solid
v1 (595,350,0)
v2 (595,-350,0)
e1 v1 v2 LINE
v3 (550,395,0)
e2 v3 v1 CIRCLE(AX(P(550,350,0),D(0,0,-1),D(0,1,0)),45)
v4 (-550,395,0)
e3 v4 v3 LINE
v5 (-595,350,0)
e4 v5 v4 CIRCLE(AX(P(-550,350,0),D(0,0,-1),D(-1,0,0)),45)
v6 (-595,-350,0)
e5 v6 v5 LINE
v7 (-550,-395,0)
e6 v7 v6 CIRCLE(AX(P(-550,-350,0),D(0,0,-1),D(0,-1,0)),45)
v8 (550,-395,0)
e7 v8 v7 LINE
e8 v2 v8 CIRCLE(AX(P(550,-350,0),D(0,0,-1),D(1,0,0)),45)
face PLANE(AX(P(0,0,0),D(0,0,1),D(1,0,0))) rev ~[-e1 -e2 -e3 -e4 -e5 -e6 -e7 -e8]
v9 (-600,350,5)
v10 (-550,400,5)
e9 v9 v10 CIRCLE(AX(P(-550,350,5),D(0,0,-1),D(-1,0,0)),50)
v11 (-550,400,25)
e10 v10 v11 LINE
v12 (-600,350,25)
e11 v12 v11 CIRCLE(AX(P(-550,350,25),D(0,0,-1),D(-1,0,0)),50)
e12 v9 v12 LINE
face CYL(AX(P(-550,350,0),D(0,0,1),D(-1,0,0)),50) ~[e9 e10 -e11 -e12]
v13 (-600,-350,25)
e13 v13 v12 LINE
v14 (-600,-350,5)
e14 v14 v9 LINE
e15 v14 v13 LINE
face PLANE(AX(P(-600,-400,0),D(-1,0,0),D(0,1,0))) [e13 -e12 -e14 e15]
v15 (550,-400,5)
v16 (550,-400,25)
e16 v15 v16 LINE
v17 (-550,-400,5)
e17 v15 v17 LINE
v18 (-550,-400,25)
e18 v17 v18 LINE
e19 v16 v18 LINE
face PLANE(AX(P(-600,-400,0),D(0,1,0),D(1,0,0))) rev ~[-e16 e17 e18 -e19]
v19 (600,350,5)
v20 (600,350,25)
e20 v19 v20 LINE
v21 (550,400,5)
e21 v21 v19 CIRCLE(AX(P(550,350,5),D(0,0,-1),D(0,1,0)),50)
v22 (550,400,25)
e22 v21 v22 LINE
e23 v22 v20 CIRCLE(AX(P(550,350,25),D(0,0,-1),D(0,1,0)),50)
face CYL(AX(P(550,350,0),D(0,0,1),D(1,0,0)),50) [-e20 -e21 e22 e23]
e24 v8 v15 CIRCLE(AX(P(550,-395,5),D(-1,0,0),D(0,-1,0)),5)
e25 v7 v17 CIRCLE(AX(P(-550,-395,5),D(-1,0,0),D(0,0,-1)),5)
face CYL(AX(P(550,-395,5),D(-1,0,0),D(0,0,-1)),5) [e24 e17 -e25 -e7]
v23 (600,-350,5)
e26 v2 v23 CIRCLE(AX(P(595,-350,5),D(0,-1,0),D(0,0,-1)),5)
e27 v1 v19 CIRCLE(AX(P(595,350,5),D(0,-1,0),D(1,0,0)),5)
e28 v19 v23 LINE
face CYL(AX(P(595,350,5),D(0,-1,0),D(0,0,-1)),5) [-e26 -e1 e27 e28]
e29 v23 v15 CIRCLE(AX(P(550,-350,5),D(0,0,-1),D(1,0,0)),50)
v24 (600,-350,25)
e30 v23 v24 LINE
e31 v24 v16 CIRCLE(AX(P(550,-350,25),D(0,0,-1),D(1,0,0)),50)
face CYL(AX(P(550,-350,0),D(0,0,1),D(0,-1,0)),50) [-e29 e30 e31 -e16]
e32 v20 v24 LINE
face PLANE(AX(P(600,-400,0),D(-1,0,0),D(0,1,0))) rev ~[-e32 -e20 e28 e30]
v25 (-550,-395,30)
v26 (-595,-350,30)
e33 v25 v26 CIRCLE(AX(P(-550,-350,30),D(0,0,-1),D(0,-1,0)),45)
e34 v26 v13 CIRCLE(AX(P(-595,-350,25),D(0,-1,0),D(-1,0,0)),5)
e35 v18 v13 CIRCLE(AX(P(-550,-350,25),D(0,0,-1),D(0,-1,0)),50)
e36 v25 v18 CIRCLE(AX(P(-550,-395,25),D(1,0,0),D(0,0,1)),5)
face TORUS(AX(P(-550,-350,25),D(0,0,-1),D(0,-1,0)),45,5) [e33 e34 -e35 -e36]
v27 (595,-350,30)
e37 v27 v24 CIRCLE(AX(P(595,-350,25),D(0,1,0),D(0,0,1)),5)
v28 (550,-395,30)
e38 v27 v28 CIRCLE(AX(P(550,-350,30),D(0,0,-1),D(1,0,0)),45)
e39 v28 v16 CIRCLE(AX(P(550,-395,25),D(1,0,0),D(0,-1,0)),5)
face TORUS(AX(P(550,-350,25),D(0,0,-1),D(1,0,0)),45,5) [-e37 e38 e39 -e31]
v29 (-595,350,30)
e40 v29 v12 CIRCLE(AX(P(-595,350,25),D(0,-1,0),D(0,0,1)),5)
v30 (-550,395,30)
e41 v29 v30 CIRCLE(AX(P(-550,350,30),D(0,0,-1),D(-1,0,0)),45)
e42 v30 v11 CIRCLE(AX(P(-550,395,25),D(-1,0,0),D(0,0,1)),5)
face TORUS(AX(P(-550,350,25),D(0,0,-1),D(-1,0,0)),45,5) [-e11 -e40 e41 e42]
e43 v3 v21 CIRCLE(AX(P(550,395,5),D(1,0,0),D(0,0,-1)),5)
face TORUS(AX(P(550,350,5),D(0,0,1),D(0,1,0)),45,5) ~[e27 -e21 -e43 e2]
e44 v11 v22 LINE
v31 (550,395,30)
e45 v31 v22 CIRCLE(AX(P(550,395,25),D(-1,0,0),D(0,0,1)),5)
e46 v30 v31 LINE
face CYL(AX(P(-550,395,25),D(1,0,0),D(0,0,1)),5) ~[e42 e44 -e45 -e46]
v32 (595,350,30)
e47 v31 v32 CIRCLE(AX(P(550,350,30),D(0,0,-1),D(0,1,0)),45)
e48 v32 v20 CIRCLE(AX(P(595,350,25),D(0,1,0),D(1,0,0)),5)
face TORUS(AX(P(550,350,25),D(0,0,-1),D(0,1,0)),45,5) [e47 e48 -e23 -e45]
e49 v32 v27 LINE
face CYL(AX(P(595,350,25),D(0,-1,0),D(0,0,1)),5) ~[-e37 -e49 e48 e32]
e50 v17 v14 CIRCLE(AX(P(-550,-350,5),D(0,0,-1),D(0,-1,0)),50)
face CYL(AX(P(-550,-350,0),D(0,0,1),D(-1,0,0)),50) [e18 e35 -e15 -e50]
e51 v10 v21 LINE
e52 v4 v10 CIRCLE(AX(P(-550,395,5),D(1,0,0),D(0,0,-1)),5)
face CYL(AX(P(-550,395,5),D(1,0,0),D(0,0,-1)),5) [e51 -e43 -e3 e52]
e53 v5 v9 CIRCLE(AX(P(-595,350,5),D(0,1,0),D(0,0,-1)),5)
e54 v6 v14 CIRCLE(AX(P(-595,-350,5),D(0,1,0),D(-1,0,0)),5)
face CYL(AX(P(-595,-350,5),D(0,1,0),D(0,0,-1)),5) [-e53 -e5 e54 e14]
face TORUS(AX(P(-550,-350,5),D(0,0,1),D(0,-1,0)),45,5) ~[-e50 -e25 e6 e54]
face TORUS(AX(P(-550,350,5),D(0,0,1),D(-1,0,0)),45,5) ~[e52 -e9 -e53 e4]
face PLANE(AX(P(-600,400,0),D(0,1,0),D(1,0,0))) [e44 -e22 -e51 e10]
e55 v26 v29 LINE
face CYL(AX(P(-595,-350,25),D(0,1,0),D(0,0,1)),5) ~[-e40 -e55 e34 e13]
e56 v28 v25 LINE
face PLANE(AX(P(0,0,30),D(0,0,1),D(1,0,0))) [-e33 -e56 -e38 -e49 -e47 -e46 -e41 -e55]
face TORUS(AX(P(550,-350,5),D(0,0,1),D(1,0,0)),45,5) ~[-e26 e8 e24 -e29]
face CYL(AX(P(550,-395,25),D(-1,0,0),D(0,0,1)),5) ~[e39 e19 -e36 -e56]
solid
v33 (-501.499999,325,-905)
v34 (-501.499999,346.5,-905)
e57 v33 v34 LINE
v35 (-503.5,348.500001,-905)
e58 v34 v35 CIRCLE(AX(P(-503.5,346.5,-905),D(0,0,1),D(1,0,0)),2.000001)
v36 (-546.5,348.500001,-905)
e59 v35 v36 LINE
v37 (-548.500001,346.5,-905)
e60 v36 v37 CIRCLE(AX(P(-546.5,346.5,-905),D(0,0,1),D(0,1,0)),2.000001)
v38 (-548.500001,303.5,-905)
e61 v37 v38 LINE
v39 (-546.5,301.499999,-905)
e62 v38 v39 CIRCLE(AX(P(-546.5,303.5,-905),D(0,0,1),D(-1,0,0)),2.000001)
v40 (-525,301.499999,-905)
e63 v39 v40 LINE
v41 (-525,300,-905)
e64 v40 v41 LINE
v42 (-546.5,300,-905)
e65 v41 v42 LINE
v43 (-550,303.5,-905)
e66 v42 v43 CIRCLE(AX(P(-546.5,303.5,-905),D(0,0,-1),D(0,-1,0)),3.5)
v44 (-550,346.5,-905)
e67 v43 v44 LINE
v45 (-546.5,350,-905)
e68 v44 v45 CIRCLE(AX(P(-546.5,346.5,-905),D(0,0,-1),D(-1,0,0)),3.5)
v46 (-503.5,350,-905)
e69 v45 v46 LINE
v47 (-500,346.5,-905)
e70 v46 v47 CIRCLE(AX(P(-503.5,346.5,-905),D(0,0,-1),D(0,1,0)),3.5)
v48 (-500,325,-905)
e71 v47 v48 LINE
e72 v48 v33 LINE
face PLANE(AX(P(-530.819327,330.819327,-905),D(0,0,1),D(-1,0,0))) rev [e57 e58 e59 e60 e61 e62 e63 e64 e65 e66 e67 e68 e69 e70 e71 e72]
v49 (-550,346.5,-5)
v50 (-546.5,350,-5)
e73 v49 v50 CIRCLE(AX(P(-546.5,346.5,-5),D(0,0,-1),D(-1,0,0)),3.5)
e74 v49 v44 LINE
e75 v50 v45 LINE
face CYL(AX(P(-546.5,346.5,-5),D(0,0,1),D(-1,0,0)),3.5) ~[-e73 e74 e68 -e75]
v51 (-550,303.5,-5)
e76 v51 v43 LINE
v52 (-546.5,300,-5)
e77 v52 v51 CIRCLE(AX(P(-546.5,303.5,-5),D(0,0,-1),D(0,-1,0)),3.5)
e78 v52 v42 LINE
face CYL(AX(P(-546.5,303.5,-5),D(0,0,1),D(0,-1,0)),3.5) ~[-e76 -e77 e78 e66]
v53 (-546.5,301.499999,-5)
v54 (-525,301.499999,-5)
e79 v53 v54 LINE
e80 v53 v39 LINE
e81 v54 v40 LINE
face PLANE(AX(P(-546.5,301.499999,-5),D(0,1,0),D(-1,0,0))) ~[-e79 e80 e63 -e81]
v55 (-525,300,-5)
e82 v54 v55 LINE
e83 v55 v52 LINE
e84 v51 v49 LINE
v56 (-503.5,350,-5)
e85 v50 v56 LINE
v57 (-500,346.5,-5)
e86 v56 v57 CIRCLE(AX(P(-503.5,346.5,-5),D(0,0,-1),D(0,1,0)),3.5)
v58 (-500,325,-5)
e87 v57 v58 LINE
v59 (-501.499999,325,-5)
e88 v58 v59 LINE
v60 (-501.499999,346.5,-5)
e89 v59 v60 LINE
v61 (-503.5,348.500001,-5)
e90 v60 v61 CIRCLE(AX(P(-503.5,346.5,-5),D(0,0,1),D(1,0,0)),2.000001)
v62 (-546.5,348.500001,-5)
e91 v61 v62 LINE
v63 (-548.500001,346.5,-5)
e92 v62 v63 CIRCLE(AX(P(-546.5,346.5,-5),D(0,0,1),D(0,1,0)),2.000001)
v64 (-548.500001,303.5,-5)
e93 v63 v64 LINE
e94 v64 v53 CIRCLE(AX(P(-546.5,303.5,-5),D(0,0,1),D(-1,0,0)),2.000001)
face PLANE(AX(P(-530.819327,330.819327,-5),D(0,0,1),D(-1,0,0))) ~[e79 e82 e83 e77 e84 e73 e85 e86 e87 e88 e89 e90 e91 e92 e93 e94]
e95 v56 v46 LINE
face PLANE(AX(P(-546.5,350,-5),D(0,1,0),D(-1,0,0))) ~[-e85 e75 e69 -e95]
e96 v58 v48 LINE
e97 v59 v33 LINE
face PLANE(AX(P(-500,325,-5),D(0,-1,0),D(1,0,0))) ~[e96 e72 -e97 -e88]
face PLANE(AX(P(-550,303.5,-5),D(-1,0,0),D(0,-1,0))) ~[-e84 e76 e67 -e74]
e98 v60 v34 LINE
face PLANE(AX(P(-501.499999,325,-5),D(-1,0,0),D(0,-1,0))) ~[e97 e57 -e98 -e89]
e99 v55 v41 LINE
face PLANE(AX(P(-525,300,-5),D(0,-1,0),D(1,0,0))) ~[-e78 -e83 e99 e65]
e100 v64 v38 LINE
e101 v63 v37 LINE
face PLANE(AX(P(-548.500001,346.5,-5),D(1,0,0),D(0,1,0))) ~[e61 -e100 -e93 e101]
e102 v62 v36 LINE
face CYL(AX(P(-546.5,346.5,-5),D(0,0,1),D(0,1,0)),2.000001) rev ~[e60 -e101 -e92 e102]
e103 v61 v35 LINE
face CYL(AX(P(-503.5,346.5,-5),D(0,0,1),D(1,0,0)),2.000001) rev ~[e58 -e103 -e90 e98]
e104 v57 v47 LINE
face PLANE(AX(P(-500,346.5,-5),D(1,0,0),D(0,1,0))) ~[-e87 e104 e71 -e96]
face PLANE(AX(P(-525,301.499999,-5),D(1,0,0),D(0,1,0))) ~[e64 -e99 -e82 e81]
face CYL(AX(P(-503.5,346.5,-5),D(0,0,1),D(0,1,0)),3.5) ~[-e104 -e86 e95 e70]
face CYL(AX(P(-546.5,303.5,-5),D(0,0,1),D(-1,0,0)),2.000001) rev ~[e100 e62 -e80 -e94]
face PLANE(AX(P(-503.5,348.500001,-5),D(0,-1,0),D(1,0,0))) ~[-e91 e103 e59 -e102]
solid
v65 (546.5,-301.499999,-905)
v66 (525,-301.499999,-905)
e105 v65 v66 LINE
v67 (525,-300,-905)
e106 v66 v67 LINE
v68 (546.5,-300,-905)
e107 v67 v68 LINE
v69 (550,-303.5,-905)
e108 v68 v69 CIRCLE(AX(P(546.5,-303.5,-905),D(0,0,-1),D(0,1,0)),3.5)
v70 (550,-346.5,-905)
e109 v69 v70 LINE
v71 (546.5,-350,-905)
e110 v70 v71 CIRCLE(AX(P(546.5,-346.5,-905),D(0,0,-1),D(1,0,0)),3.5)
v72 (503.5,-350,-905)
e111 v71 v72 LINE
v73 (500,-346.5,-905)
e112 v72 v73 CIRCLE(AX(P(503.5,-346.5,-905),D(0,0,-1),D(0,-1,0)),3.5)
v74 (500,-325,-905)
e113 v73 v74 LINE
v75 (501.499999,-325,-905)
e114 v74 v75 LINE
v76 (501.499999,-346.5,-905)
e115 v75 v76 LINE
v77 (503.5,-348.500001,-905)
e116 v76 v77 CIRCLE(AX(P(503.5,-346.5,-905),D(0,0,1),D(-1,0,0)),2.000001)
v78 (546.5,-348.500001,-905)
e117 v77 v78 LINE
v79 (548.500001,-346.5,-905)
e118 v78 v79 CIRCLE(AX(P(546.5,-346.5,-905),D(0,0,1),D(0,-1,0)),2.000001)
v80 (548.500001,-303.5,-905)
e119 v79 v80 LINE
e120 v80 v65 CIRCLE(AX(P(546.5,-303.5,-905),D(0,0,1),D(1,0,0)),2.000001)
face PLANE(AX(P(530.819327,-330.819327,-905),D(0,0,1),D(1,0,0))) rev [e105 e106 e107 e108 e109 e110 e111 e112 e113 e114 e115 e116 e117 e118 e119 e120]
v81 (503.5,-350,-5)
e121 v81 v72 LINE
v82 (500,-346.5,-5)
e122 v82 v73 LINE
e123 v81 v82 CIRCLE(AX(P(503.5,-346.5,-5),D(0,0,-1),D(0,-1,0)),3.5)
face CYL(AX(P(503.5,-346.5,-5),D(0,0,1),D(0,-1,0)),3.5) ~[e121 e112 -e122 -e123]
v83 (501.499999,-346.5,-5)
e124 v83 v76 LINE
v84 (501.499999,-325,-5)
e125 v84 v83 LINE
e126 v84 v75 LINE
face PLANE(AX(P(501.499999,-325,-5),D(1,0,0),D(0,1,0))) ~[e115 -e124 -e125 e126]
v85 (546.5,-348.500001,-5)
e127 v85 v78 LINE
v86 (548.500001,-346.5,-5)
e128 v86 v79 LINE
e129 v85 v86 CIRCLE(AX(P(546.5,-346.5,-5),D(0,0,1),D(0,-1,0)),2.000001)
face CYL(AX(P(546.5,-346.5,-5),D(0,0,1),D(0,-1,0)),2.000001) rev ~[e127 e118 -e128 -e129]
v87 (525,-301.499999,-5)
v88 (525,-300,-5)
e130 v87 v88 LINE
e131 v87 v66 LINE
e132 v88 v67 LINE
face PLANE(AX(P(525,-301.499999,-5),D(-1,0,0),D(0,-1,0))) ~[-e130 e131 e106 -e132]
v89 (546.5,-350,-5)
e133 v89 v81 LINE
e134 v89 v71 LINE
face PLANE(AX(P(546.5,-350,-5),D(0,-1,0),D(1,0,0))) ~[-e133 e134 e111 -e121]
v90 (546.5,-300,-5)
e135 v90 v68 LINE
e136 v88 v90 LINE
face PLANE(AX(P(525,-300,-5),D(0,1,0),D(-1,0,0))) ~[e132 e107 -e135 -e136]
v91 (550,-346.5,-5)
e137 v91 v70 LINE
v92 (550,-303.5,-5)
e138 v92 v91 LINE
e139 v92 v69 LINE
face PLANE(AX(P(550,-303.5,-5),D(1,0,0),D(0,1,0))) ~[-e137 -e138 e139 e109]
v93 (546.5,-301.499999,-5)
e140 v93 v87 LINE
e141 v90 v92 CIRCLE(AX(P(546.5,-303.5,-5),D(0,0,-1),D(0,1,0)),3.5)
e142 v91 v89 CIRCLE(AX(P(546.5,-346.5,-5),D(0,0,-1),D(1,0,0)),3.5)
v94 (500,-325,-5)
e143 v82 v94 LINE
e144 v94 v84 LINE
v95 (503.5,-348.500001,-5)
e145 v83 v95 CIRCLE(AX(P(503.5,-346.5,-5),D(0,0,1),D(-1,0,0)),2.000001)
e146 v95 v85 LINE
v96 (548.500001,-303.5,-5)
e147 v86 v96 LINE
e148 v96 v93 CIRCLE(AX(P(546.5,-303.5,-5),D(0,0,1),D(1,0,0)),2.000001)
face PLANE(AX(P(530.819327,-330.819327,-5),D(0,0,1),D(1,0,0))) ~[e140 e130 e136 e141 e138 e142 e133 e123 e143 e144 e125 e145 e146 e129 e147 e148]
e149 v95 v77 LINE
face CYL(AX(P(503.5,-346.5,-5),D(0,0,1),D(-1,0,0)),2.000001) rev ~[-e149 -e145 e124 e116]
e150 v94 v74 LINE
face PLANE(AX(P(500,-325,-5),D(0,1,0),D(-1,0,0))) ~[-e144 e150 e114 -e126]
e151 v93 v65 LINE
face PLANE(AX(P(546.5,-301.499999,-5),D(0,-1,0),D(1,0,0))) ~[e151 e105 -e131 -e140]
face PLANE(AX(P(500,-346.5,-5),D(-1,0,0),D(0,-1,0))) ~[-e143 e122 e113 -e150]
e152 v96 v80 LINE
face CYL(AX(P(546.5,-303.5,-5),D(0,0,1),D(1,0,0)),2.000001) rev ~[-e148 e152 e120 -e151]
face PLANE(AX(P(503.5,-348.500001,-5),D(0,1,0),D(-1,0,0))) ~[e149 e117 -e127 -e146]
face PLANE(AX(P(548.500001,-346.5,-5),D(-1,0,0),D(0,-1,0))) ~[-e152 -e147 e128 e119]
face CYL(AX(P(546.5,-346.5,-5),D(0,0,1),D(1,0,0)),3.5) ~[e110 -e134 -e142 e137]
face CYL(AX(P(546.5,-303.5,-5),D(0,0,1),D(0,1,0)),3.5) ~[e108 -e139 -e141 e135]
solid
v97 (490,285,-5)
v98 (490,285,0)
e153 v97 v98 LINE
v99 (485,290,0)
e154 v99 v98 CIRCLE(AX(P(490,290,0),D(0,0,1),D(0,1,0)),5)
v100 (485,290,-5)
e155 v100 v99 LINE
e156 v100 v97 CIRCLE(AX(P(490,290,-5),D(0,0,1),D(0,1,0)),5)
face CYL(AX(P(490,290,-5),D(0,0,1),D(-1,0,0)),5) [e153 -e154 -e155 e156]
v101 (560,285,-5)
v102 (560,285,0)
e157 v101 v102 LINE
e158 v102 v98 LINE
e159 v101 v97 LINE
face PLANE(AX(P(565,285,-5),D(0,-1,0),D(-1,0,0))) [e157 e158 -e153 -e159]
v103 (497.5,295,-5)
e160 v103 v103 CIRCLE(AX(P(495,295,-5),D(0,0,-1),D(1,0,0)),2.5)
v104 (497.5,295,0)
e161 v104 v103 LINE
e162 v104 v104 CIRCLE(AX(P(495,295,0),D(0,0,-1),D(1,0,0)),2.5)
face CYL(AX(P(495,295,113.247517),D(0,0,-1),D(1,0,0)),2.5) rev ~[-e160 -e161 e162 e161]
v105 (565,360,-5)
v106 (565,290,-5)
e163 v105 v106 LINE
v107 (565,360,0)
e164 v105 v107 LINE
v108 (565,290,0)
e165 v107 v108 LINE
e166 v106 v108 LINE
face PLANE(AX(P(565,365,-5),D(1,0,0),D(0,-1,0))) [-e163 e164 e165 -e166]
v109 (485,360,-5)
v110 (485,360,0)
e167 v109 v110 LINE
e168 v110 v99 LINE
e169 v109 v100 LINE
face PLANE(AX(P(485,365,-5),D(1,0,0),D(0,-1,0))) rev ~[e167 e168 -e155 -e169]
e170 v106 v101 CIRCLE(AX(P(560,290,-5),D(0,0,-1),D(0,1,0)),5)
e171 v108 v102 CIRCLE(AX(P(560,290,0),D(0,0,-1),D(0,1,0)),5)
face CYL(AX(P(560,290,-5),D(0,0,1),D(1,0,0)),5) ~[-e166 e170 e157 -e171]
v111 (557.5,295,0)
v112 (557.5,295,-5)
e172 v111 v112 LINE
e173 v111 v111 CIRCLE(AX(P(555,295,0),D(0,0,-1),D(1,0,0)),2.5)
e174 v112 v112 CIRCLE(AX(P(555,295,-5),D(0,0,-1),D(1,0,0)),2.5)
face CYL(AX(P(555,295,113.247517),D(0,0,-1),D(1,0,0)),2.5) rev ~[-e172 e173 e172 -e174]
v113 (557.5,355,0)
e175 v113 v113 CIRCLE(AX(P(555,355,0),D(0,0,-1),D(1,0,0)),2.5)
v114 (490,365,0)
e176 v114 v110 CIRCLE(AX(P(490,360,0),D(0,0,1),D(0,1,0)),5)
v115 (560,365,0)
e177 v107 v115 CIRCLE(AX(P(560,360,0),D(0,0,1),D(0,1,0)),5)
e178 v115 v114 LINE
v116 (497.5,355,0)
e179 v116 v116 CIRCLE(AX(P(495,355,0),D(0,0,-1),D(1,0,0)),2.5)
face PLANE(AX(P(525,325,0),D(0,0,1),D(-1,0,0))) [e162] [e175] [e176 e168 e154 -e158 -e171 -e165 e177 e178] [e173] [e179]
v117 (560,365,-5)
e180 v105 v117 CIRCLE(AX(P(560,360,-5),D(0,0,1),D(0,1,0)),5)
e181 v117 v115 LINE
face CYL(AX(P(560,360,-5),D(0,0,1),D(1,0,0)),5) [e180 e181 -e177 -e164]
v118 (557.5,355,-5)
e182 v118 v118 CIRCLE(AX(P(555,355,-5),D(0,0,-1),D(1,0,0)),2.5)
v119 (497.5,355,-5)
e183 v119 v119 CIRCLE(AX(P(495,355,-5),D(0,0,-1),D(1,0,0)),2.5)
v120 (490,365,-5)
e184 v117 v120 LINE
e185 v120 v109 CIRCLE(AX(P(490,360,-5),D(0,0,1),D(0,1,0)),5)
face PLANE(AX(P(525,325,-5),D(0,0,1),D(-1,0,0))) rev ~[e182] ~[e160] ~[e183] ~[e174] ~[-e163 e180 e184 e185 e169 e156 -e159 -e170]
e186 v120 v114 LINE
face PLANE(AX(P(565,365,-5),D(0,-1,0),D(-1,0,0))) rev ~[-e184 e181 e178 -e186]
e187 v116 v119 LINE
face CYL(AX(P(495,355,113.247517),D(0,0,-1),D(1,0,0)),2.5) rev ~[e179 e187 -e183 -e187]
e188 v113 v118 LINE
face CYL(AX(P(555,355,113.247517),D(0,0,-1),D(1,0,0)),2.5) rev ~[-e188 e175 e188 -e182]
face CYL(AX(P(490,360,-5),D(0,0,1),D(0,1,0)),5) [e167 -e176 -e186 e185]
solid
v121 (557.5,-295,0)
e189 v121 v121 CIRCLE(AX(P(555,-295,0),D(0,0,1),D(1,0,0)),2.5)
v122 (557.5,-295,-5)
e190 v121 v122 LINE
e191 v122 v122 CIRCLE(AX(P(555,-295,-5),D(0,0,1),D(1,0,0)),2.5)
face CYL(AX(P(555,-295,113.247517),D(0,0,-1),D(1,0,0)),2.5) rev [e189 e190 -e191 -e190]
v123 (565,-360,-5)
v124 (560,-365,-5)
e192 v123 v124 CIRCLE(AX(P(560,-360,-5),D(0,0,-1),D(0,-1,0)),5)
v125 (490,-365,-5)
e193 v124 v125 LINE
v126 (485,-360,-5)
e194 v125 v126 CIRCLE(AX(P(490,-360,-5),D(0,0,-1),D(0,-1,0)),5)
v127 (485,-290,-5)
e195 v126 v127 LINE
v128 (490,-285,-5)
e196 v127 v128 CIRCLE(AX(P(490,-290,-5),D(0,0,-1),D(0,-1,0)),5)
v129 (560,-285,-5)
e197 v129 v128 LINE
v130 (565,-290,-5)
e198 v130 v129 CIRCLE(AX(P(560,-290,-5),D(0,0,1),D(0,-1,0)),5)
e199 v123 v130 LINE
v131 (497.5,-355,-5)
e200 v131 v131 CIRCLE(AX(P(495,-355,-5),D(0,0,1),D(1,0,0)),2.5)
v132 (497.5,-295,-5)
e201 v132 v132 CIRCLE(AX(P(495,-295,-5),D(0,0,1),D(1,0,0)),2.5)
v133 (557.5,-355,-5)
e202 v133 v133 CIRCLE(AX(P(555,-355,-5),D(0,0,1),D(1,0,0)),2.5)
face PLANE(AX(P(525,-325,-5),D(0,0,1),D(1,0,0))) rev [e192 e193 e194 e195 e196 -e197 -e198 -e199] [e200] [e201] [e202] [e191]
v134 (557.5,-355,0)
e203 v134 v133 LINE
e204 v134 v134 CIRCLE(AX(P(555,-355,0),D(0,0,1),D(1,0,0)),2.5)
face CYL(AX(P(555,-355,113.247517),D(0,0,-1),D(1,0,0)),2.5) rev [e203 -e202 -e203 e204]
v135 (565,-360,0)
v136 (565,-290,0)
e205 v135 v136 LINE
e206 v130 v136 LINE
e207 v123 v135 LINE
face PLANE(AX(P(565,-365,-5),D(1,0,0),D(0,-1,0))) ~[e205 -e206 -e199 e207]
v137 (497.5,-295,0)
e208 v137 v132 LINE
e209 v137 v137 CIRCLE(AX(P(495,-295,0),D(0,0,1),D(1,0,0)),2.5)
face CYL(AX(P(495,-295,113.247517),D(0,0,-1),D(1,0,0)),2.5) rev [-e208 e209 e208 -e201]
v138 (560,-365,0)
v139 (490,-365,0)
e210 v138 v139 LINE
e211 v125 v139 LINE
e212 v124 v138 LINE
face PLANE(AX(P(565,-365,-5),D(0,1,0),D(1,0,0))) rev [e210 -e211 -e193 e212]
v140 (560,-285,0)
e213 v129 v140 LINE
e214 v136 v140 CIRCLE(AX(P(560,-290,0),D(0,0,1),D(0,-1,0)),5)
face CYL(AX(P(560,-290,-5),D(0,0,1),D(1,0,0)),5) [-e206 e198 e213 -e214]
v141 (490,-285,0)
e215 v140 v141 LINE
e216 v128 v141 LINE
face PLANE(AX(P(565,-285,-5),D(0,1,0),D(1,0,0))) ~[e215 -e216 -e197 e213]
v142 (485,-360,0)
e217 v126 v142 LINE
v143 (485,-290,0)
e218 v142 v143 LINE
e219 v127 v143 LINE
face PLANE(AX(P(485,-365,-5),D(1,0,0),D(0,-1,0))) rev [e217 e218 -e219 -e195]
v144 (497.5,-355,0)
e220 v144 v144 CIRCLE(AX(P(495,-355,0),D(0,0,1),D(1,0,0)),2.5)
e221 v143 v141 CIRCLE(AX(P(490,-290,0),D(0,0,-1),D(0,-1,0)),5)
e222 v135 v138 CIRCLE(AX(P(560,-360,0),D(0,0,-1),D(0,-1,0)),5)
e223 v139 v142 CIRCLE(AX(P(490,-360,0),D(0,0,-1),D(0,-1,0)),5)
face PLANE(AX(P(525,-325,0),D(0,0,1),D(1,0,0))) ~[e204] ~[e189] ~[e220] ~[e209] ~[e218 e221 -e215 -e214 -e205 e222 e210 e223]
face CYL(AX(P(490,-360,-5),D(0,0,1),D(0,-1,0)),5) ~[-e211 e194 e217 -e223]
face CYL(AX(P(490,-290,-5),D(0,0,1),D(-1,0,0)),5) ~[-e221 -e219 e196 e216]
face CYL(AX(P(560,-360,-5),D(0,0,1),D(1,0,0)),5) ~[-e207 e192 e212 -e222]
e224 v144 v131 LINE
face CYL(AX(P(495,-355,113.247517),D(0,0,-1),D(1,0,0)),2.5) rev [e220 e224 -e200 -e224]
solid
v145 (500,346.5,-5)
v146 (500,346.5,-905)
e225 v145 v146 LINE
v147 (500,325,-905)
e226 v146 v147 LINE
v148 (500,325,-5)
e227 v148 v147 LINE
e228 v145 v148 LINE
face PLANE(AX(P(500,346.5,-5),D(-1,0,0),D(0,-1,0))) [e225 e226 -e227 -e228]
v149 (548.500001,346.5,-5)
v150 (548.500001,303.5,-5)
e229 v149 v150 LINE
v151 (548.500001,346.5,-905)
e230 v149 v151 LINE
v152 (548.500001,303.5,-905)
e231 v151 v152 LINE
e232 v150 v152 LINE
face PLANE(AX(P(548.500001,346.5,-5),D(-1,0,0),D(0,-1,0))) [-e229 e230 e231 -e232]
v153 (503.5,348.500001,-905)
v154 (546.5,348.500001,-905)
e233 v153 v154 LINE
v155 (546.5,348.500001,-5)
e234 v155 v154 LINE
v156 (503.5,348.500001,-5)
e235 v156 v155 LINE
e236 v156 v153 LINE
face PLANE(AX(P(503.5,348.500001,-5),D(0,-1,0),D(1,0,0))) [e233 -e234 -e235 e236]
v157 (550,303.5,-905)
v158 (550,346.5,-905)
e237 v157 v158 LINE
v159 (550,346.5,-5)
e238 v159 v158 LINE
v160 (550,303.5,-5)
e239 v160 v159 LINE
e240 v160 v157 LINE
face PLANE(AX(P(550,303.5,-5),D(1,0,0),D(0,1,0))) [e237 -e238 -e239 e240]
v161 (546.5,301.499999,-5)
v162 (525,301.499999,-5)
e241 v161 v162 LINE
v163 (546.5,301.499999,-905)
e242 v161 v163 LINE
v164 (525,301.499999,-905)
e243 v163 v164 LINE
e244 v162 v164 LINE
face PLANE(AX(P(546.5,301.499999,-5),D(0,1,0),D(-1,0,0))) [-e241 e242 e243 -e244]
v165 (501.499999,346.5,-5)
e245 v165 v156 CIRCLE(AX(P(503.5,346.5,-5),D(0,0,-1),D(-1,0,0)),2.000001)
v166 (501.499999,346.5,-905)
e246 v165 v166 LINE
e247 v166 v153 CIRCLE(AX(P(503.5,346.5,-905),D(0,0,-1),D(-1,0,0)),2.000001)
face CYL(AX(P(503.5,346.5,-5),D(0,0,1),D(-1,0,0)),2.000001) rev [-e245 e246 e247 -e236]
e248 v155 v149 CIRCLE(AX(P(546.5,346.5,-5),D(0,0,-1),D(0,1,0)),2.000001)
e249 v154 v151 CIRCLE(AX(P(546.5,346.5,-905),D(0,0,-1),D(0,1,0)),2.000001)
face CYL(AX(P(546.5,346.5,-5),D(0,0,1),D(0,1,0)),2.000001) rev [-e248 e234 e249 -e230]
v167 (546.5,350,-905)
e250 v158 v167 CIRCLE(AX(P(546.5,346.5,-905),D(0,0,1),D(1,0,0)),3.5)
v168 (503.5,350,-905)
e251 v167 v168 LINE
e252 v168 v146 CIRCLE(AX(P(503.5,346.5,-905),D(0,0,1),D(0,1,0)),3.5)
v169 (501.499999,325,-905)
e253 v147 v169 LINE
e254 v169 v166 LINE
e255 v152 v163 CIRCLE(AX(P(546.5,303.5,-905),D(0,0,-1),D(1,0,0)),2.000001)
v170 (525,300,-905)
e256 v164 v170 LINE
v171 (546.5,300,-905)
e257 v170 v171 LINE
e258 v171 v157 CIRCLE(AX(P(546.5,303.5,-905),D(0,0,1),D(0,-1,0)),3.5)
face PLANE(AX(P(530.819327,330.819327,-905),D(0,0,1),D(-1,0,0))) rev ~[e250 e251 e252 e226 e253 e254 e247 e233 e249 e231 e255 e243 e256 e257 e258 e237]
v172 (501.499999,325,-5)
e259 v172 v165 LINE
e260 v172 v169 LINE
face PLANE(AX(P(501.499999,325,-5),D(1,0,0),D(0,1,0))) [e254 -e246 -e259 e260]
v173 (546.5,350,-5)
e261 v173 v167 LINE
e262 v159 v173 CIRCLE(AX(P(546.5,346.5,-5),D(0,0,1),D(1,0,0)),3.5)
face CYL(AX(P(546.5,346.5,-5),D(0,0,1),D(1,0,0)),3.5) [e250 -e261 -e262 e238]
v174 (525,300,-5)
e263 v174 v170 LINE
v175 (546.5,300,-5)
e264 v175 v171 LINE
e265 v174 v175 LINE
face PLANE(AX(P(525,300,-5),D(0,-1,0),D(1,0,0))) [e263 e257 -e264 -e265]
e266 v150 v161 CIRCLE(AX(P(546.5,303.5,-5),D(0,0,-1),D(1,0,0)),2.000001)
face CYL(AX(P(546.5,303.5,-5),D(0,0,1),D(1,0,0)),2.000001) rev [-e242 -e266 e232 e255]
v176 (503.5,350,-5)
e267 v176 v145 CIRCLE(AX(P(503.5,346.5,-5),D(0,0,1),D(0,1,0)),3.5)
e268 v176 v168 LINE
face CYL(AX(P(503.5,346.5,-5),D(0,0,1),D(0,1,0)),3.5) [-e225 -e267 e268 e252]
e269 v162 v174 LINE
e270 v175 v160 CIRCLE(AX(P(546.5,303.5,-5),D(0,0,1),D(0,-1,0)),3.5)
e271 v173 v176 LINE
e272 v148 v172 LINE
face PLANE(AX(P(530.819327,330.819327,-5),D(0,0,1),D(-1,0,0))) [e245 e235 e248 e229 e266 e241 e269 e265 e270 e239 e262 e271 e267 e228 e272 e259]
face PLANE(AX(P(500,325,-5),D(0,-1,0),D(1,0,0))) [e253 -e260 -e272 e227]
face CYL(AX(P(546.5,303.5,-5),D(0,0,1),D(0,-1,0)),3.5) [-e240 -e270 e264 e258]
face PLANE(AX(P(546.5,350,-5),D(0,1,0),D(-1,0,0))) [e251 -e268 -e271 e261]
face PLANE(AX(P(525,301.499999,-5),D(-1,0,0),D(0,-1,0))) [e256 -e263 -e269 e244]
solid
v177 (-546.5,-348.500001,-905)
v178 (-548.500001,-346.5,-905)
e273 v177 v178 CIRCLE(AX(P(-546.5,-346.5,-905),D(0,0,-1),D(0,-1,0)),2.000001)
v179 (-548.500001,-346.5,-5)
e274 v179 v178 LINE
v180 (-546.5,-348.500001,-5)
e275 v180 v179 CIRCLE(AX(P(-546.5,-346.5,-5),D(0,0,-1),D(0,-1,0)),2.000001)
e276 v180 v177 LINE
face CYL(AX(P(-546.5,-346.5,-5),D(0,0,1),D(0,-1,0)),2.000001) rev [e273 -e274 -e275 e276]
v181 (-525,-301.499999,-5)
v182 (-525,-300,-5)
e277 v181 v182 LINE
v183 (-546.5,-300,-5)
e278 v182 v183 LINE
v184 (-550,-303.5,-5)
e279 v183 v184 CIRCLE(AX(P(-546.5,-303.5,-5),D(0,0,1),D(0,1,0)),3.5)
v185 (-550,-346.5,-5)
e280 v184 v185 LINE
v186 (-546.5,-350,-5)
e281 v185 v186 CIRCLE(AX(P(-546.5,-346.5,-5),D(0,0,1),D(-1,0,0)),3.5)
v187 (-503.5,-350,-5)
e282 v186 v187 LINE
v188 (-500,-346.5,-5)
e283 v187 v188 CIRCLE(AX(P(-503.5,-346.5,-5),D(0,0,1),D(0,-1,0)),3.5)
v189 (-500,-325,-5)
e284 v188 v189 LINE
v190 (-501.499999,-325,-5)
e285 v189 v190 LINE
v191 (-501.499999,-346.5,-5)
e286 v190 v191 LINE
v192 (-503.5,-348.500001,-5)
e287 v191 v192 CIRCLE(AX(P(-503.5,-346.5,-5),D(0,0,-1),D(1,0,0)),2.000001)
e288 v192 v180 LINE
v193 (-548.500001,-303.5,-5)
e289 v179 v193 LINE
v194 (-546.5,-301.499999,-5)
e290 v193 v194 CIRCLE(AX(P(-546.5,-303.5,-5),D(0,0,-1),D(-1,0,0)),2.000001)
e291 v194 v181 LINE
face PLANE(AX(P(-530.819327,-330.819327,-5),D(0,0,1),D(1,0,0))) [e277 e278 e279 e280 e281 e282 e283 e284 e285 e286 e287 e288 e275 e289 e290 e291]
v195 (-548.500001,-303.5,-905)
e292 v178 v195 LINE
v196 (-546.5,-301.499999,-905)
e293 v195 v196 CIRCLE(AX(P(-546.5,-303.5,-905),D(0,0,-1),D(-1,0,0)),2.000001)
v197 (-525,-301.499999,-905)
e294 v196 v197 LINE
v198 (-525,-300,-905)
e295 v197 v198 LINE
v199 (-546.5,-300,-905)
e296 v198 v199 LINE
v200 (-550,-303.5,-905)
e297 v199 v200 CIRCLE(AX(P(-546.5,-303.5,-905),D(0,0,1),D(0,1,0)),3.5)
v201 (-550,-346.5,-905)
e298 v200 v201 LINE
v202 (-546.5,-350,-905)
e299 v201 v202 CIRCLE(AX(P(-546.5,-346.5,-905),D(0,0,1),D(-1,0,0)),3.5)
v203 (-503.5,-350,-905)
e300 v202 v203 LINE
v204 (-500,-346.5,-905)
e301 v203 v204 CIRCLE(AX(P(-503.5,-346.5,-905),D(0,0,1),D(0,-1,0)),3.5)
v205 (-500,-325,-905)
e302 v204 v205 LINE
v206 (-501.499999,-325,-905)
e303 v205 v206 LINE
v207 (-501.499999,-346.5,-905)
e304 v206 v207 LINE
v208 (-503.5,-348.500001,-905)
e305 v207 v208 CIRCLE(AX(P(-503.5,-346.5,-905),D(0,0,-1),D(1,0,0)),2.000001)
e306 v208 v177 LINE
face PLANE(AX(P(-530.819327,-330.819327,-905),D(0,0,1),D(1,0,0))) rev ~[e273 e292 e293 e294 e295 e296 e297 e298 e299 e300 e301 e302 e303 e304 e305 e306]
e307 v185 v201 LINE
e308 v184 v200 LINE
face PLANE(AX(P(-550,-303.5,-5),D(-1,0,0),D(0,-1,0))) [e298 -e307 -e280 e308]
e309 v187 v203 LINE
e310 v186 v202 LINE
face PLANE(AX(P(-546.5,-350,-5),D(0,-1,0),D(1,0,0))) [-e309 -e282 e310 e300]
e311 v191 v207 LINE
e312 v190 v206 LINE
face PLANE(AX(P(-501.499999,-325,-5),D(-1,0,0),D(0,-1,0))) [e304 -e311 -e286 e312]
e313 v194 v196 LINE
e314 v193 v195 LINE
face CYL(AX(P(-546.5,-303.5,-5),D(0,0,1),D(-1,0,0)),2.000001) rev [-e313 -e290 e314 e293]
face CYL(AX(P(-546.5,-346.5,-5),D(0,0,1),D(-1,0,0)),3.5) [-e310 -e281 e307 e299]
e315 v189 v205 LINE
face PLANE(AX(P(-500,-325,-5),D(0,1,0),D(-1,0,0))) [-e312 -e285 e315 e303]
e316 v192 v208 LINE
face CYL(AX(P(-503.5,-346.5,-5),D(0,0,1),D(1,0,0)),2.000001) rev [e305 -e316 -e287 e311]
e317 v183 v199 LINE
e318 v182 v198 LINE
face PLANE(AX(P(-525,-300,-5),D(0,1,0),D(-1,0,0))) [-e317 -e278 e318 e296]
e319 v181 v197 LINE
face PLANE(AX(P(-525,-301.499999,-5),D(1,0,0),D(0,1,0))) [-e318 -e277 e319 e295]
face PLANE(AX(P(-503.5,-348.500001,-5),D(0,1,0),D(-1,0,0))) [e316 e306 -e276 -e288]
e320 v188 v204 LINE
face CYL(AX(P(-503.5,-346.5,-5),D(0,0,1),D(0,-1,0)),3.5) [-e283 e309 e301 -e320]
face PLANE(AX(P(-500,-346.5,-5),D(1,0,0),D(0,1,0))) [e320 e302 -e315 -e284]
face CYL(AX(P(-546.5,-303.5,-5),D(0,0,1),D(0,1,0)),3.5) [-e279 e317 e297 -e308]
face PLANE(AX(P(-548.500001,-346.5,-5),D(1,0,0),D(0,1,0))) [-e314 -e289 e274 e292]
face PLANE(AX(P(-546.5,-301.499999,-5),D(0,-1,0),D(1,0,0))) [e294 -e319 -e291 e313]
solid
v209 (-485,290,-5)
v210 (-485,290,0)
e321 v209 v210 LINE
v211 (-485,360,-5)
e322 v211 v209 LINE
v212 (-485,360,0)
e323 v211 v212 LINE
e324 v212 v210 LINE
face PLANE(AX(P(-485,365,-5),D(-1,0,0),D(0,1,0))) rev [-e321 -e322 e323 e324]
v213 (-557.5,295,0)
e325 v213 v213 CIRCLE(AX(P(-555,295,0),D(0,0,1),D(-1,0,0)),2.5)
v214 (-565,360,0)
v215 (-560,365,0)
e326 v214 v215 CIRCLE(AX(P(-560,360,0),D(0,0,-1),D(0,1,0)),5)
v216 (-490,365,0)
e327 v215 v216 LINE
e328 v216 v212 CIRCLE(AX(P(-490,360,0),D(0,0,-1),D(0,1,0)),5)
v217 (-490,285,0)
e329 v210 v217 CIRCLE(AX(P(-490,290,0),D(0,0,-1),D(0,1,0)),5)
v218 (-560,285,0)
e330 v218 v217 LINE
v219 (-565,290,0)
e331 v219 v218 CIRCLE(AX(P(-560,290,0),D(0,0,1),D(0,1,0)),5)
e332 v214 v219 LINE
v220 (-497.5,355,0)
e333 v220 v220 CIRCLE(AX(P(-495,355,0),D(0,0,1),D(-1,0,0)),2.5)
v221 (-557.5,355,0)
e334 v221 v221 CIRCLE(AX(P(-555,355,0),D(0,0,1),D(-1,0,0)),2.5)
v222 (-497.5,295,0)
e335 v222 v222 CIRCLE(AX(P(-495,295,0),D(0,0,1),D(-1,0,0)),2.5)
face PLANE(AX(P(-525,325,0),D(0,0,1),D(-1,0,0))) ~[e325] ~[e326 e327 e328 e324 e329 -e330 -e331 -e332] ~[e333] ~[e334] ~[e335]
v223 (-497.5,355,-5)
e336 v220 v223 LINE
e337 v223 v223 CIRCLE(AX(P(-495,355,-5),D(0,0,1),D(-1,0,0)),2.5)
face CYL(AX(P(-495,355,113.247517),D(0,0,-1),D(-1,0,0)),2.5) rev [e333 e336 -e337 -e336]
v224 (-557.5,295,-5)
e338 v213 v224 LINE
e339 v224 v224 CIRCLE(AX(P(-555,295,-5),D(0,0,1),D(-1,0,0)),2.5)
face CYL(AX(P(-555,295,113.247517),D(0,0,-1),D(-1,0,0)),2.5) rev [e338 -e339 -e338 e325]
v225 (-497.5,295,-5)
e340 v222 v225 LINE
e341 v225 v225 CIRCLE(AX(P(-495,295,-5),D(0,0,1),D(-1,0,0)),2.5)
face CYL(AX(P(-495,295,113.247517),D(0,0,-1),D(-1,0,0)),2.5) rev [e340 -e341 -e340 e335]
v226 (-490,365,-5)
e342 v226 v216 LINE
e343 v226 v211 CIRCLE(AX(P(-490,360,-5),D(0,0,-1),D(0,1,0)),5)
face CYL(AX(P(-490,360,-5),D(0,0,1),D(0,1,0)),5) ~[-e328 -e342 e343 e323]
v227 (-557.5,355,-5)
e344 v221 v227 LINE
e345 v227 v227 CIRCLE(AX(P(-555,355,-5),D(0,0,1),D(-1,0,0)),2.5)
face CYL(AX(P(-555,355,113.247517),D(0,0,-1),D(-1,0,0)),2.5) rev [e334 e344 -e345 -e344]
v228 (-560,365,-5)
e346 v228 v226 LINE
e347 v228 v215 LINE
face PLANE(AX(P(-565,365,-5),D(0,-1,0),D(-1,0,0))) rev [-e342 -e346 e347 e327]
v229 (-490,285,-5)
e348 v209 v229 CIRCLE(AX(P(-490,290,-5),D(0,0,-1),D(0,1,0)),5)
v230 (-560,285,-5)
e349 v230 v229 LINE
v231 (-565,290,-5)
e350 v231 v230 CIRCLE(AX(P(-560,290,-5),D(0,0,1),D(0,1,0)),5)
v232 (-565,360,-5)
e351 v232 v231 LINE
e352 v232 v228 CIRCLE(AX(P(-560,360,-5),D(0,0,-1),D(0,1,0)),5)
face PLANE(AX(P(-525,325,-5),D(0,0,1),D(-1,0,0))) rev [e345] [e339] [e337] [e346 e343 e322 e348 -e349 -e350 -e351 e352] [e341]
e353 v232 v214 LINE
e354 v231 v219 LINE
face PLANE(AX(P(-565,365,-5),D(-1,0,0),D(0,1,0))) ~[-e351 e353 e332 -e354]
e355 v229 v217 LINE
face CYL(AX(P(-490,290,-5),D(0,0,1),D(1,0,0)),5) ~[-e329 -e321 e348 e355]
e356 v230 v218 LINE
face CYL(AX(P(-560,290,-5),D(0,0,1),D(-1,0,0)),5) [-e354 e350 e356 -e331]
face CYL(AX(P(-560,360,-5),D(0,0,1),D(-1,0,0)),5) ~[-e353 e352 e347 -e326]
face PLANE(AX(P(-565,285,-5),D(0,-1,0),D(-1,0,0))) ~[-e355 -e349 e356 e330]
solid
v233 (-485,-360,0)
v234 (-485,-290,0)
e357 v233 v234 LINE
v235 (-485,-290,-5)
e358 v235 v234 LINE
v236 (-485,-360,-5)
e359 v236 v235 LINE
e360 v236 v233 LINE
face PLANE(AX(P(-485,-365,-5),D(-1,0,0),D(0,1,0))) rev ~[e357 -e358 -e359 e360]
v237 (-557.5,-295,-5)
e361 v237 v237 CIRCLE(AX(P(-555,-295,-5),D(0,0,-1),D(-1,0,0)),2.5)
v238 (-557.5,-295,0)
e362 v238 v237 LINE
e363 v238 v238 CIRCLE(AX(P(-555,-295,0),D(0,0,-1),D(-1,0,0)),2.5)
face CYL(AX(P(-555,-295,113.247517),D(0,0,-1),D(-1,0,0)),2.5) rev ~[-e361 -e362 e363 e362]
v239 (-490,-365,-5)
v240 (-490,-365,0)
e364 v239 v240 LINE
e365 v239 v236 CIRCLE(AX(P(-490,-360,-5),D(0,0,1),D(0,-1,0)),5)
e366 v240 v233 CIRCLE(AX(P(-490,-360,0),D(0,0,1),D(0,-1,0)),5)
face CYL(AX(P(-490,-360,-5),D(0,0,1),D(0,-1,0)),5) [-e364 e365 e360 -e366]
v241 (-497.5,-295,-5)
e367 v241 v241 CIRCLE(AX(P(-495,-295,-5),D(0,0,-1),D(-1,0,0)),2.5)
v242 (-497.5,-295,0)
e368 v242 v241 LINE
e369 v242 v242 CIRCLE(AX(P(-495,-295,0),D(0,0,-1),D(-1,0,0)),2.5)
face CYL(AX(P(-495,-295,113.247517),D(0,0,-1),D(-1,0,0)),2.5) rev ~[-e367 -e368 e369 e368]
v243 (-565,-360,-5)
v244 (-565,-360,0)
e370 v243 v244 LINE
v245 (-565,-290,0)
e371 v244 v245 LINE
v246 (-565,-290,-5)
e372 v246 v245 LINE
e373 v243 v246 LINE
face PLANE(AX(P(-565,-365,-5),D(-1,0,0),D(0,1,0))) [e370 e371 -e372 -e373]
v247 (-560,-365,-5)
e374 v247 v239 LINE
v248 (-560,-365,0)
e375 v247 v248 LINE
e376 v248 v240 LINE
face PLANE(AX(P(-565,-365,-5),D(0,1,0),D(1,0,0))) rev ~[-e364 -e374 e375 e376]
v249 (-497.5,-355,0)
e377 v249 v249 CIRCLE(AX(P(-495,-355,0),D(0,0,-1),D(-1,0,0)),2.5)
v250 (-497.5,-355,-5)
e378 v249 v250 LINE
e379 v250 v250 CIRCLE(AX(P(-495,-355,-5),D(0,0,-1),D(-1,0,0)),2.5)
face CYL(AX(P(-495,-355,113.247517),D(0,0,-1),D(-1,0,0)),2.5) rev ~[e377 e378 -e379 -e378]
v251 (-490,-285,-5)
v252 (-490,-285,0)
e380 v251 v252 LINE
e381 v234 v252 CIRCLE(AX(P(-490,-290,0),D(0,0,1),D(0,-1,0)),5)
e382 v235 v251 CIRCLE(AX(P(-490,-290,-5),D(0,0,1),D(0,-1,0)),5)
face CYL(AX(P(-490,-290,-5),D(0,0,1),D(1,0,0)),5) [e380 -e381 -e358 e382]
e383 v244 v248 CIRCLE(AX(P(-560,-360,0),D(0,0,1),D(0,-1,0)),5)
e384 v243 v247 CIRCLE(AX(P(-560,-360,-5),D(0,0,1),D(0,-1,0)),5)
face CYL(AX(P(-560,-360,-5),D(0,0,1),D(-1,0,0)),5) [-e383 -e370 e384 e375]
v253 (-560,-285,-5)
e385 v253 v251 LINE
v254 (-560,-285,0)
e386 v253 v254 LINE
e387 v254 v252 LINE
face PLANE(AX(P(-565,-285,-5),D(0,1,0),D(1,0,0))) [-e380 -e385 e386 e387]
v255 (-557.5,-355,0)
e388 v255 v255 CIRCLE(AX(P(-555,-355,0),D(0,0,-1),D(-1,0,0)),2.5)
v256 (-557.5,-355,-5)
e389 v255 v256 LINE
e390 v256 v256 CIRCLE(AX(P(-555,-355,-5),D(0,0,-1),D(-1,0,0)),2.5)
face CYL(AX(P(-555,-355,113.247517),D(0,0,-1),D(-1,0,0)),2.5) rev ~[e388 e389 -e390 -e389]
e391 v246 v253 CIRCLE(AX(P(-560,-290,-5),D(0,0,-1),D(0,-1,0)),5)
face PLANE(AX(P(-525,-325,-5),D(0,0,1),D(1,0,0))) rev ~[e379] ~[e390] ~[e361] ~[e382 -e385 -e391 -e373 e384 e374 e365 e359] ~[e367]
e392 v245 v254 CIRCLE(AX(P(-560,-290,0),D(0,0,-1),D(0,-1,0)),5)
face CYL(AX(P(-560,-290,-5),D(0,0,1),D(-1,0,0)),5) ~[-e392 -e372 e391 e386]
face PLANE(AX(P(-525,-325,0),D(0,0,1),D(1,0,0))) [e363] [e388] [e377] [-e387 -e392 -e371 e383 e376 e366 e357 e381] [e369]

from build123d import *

# Parameters (mm, degrees)
F2_DEPTH  = 900
F3_W      = 80
F3_H      = 80
F4_DEPTH  = 5
F5_R      = 5
F7_D      = 5
F10_W     = 1200
F10_H     = 800
F11_DEPTH = 30
F12_R     = 50
F13_R     = 5


with BuildPart() as f2:
    # F1 (on offset) → F2 (new body)
    with BuildSketch(Plane.XY.offset(-5)):
        with BuildLine():
            ThreePointArc((-550, -346.5), (-548.9748737342, -348.9748737342), (-546.5, -350))
            Line((-546.5, -350), (-503.5, -350))
            ThreePointArc((-503.5, -350), (-501.0251262658, -348.9748737342), (-500, -346.5))
            Line((-500, -346.5), (-500, -325))
            Line((-500, -325), (-501.4999985695, -325))
            Line((-501.4999985695, -325), (-501.4999985695, -346.5))
            ThreePointArc((-501.4999985695, -346.5), (-502.0857854261, -347.9142145739), (-503.5, -348.5000014305))
            Line((-503.5, -348.5000014305), (-546.5, -348.5000014305))
            ThreePointArc((-546.5, -348.5000014305), (-547.9142145739, -347.9142145739), (-548.5000014305, -346.5))
            Line((-548.5000014305, -346.5), (-548.5000014305, -303.5))
            ThreePointArc((-548.5000014305, -303.5), (-547.9142145739, -302.0857854261), (-546.5, -301.4999985695))
            Line((-546.5, -301.4999985695), (-525, -301.4999985695))
            Line((-525, -301.4999985695), (-525, -300))
            Line((-525, -300), (-546.5, -300))
            ThreePointArc((-546.5, -300), (-548.9748737342, -301.0251262658), (-550, -303.5))
            Line((-550, -303.5), (-550, -346.5))
        make_face()
    extrude(amount=-F2_DEPTH)


with BuildPart() as f4:
    # F3 (on face) → F4 (new body)
    with BuildSketch(Plane.XY.offset(-5)):
        with Locations((-525, -325)):
            Rectangle(F3_W, F3_H)
    extrude(amount=F4_DEPTH)

    # F5
    f5_edges = [f4.edges().sort_by_distance(p)[0] for p in [
        (-565, -285, -2.5),
        (-565, -365, -2.5),
        (-485, -365, -2.5),
        (-485, -285, -2.5),
    ]]
    fillet(f5_edges, radius=F5_R)

    # F7 (through all)
    with Locations(Plane.XY):
        with Locations((-555, -355), (-495, -355), (-495, -295), (-555, -295)):
            Hole(F7_D / 2)


with BuildPart() as f8_1:
    # F8: instance of F2
    add(f2.part.mirror(Plane.XZ))


with BuildPart() as f8_2:
    # F8: instance of F4
    add(f4.part.mirror(Plane.XZ))


with BuildPart() as f9_1:
    # F9: instance of F8_1
    add(f8_1.part.mirror(Plane.YZ))


with BuildPart() as f9_2:
    # F9: instance of F2
    add(f2.part.mirror(Plane.YZ))


with BuildPart() as f9_3:
    # F9: instance of F8_2
    add(f8_2.part.mirror(Plane.YZ))


with BuildPart() as f9_4:
    # F9: instance of F4
    add(f4.part.mirror(Plane.YZ))


with BuildPart() as f11:
    # F10 (on Top) → F11 (new body)
    with BuildSketch(Plane.XY):
        Rectangle(F10_W, F10_H)
    extrude(amount=F11_DEPTH)

    # F12
    f12_edges = [f11.edges().sort_by_distance(p)[0] for p in [
        (600, -400, 15),
        (-600, -400, 15),
        (-600, 400, 15),
        (600, 400, 15),
    ]]
    fillet(f12_edges, radius=F12_R)

    # F13
    f13_edges = [f11.edges().sort_by_distance(p)[0] for p in [
        (0, 400, 30),
        (585.355339, 385.355339, 30),
        (-585.355339, 385.355339, 30),
        (600, 0, 30),
        (-600, 0, 30),
        (585.355339, -385.355339, 30),
        (-585.355339, -385.355339, 30),
        (0, -400, 30),
        (0, 400, 0),
        (585.355339, 385.355339, 0),
        (-585.355339, 385.355339, 0),
        (600, 0, 0),
        (-600, 0, 0),
        (585.355339, -385.355339, 0),
        (-585.355339, -385.355339, 0),
        (0, -400, 0),
    ]]
    fillet(f13_edges, radius=F13_R)


solid = Compound([f2.part, f4.part, f8_1.part, f8_2.part, f9_1.part, f9_2.part, f9_3.part, f9_4.part, f11.part])
